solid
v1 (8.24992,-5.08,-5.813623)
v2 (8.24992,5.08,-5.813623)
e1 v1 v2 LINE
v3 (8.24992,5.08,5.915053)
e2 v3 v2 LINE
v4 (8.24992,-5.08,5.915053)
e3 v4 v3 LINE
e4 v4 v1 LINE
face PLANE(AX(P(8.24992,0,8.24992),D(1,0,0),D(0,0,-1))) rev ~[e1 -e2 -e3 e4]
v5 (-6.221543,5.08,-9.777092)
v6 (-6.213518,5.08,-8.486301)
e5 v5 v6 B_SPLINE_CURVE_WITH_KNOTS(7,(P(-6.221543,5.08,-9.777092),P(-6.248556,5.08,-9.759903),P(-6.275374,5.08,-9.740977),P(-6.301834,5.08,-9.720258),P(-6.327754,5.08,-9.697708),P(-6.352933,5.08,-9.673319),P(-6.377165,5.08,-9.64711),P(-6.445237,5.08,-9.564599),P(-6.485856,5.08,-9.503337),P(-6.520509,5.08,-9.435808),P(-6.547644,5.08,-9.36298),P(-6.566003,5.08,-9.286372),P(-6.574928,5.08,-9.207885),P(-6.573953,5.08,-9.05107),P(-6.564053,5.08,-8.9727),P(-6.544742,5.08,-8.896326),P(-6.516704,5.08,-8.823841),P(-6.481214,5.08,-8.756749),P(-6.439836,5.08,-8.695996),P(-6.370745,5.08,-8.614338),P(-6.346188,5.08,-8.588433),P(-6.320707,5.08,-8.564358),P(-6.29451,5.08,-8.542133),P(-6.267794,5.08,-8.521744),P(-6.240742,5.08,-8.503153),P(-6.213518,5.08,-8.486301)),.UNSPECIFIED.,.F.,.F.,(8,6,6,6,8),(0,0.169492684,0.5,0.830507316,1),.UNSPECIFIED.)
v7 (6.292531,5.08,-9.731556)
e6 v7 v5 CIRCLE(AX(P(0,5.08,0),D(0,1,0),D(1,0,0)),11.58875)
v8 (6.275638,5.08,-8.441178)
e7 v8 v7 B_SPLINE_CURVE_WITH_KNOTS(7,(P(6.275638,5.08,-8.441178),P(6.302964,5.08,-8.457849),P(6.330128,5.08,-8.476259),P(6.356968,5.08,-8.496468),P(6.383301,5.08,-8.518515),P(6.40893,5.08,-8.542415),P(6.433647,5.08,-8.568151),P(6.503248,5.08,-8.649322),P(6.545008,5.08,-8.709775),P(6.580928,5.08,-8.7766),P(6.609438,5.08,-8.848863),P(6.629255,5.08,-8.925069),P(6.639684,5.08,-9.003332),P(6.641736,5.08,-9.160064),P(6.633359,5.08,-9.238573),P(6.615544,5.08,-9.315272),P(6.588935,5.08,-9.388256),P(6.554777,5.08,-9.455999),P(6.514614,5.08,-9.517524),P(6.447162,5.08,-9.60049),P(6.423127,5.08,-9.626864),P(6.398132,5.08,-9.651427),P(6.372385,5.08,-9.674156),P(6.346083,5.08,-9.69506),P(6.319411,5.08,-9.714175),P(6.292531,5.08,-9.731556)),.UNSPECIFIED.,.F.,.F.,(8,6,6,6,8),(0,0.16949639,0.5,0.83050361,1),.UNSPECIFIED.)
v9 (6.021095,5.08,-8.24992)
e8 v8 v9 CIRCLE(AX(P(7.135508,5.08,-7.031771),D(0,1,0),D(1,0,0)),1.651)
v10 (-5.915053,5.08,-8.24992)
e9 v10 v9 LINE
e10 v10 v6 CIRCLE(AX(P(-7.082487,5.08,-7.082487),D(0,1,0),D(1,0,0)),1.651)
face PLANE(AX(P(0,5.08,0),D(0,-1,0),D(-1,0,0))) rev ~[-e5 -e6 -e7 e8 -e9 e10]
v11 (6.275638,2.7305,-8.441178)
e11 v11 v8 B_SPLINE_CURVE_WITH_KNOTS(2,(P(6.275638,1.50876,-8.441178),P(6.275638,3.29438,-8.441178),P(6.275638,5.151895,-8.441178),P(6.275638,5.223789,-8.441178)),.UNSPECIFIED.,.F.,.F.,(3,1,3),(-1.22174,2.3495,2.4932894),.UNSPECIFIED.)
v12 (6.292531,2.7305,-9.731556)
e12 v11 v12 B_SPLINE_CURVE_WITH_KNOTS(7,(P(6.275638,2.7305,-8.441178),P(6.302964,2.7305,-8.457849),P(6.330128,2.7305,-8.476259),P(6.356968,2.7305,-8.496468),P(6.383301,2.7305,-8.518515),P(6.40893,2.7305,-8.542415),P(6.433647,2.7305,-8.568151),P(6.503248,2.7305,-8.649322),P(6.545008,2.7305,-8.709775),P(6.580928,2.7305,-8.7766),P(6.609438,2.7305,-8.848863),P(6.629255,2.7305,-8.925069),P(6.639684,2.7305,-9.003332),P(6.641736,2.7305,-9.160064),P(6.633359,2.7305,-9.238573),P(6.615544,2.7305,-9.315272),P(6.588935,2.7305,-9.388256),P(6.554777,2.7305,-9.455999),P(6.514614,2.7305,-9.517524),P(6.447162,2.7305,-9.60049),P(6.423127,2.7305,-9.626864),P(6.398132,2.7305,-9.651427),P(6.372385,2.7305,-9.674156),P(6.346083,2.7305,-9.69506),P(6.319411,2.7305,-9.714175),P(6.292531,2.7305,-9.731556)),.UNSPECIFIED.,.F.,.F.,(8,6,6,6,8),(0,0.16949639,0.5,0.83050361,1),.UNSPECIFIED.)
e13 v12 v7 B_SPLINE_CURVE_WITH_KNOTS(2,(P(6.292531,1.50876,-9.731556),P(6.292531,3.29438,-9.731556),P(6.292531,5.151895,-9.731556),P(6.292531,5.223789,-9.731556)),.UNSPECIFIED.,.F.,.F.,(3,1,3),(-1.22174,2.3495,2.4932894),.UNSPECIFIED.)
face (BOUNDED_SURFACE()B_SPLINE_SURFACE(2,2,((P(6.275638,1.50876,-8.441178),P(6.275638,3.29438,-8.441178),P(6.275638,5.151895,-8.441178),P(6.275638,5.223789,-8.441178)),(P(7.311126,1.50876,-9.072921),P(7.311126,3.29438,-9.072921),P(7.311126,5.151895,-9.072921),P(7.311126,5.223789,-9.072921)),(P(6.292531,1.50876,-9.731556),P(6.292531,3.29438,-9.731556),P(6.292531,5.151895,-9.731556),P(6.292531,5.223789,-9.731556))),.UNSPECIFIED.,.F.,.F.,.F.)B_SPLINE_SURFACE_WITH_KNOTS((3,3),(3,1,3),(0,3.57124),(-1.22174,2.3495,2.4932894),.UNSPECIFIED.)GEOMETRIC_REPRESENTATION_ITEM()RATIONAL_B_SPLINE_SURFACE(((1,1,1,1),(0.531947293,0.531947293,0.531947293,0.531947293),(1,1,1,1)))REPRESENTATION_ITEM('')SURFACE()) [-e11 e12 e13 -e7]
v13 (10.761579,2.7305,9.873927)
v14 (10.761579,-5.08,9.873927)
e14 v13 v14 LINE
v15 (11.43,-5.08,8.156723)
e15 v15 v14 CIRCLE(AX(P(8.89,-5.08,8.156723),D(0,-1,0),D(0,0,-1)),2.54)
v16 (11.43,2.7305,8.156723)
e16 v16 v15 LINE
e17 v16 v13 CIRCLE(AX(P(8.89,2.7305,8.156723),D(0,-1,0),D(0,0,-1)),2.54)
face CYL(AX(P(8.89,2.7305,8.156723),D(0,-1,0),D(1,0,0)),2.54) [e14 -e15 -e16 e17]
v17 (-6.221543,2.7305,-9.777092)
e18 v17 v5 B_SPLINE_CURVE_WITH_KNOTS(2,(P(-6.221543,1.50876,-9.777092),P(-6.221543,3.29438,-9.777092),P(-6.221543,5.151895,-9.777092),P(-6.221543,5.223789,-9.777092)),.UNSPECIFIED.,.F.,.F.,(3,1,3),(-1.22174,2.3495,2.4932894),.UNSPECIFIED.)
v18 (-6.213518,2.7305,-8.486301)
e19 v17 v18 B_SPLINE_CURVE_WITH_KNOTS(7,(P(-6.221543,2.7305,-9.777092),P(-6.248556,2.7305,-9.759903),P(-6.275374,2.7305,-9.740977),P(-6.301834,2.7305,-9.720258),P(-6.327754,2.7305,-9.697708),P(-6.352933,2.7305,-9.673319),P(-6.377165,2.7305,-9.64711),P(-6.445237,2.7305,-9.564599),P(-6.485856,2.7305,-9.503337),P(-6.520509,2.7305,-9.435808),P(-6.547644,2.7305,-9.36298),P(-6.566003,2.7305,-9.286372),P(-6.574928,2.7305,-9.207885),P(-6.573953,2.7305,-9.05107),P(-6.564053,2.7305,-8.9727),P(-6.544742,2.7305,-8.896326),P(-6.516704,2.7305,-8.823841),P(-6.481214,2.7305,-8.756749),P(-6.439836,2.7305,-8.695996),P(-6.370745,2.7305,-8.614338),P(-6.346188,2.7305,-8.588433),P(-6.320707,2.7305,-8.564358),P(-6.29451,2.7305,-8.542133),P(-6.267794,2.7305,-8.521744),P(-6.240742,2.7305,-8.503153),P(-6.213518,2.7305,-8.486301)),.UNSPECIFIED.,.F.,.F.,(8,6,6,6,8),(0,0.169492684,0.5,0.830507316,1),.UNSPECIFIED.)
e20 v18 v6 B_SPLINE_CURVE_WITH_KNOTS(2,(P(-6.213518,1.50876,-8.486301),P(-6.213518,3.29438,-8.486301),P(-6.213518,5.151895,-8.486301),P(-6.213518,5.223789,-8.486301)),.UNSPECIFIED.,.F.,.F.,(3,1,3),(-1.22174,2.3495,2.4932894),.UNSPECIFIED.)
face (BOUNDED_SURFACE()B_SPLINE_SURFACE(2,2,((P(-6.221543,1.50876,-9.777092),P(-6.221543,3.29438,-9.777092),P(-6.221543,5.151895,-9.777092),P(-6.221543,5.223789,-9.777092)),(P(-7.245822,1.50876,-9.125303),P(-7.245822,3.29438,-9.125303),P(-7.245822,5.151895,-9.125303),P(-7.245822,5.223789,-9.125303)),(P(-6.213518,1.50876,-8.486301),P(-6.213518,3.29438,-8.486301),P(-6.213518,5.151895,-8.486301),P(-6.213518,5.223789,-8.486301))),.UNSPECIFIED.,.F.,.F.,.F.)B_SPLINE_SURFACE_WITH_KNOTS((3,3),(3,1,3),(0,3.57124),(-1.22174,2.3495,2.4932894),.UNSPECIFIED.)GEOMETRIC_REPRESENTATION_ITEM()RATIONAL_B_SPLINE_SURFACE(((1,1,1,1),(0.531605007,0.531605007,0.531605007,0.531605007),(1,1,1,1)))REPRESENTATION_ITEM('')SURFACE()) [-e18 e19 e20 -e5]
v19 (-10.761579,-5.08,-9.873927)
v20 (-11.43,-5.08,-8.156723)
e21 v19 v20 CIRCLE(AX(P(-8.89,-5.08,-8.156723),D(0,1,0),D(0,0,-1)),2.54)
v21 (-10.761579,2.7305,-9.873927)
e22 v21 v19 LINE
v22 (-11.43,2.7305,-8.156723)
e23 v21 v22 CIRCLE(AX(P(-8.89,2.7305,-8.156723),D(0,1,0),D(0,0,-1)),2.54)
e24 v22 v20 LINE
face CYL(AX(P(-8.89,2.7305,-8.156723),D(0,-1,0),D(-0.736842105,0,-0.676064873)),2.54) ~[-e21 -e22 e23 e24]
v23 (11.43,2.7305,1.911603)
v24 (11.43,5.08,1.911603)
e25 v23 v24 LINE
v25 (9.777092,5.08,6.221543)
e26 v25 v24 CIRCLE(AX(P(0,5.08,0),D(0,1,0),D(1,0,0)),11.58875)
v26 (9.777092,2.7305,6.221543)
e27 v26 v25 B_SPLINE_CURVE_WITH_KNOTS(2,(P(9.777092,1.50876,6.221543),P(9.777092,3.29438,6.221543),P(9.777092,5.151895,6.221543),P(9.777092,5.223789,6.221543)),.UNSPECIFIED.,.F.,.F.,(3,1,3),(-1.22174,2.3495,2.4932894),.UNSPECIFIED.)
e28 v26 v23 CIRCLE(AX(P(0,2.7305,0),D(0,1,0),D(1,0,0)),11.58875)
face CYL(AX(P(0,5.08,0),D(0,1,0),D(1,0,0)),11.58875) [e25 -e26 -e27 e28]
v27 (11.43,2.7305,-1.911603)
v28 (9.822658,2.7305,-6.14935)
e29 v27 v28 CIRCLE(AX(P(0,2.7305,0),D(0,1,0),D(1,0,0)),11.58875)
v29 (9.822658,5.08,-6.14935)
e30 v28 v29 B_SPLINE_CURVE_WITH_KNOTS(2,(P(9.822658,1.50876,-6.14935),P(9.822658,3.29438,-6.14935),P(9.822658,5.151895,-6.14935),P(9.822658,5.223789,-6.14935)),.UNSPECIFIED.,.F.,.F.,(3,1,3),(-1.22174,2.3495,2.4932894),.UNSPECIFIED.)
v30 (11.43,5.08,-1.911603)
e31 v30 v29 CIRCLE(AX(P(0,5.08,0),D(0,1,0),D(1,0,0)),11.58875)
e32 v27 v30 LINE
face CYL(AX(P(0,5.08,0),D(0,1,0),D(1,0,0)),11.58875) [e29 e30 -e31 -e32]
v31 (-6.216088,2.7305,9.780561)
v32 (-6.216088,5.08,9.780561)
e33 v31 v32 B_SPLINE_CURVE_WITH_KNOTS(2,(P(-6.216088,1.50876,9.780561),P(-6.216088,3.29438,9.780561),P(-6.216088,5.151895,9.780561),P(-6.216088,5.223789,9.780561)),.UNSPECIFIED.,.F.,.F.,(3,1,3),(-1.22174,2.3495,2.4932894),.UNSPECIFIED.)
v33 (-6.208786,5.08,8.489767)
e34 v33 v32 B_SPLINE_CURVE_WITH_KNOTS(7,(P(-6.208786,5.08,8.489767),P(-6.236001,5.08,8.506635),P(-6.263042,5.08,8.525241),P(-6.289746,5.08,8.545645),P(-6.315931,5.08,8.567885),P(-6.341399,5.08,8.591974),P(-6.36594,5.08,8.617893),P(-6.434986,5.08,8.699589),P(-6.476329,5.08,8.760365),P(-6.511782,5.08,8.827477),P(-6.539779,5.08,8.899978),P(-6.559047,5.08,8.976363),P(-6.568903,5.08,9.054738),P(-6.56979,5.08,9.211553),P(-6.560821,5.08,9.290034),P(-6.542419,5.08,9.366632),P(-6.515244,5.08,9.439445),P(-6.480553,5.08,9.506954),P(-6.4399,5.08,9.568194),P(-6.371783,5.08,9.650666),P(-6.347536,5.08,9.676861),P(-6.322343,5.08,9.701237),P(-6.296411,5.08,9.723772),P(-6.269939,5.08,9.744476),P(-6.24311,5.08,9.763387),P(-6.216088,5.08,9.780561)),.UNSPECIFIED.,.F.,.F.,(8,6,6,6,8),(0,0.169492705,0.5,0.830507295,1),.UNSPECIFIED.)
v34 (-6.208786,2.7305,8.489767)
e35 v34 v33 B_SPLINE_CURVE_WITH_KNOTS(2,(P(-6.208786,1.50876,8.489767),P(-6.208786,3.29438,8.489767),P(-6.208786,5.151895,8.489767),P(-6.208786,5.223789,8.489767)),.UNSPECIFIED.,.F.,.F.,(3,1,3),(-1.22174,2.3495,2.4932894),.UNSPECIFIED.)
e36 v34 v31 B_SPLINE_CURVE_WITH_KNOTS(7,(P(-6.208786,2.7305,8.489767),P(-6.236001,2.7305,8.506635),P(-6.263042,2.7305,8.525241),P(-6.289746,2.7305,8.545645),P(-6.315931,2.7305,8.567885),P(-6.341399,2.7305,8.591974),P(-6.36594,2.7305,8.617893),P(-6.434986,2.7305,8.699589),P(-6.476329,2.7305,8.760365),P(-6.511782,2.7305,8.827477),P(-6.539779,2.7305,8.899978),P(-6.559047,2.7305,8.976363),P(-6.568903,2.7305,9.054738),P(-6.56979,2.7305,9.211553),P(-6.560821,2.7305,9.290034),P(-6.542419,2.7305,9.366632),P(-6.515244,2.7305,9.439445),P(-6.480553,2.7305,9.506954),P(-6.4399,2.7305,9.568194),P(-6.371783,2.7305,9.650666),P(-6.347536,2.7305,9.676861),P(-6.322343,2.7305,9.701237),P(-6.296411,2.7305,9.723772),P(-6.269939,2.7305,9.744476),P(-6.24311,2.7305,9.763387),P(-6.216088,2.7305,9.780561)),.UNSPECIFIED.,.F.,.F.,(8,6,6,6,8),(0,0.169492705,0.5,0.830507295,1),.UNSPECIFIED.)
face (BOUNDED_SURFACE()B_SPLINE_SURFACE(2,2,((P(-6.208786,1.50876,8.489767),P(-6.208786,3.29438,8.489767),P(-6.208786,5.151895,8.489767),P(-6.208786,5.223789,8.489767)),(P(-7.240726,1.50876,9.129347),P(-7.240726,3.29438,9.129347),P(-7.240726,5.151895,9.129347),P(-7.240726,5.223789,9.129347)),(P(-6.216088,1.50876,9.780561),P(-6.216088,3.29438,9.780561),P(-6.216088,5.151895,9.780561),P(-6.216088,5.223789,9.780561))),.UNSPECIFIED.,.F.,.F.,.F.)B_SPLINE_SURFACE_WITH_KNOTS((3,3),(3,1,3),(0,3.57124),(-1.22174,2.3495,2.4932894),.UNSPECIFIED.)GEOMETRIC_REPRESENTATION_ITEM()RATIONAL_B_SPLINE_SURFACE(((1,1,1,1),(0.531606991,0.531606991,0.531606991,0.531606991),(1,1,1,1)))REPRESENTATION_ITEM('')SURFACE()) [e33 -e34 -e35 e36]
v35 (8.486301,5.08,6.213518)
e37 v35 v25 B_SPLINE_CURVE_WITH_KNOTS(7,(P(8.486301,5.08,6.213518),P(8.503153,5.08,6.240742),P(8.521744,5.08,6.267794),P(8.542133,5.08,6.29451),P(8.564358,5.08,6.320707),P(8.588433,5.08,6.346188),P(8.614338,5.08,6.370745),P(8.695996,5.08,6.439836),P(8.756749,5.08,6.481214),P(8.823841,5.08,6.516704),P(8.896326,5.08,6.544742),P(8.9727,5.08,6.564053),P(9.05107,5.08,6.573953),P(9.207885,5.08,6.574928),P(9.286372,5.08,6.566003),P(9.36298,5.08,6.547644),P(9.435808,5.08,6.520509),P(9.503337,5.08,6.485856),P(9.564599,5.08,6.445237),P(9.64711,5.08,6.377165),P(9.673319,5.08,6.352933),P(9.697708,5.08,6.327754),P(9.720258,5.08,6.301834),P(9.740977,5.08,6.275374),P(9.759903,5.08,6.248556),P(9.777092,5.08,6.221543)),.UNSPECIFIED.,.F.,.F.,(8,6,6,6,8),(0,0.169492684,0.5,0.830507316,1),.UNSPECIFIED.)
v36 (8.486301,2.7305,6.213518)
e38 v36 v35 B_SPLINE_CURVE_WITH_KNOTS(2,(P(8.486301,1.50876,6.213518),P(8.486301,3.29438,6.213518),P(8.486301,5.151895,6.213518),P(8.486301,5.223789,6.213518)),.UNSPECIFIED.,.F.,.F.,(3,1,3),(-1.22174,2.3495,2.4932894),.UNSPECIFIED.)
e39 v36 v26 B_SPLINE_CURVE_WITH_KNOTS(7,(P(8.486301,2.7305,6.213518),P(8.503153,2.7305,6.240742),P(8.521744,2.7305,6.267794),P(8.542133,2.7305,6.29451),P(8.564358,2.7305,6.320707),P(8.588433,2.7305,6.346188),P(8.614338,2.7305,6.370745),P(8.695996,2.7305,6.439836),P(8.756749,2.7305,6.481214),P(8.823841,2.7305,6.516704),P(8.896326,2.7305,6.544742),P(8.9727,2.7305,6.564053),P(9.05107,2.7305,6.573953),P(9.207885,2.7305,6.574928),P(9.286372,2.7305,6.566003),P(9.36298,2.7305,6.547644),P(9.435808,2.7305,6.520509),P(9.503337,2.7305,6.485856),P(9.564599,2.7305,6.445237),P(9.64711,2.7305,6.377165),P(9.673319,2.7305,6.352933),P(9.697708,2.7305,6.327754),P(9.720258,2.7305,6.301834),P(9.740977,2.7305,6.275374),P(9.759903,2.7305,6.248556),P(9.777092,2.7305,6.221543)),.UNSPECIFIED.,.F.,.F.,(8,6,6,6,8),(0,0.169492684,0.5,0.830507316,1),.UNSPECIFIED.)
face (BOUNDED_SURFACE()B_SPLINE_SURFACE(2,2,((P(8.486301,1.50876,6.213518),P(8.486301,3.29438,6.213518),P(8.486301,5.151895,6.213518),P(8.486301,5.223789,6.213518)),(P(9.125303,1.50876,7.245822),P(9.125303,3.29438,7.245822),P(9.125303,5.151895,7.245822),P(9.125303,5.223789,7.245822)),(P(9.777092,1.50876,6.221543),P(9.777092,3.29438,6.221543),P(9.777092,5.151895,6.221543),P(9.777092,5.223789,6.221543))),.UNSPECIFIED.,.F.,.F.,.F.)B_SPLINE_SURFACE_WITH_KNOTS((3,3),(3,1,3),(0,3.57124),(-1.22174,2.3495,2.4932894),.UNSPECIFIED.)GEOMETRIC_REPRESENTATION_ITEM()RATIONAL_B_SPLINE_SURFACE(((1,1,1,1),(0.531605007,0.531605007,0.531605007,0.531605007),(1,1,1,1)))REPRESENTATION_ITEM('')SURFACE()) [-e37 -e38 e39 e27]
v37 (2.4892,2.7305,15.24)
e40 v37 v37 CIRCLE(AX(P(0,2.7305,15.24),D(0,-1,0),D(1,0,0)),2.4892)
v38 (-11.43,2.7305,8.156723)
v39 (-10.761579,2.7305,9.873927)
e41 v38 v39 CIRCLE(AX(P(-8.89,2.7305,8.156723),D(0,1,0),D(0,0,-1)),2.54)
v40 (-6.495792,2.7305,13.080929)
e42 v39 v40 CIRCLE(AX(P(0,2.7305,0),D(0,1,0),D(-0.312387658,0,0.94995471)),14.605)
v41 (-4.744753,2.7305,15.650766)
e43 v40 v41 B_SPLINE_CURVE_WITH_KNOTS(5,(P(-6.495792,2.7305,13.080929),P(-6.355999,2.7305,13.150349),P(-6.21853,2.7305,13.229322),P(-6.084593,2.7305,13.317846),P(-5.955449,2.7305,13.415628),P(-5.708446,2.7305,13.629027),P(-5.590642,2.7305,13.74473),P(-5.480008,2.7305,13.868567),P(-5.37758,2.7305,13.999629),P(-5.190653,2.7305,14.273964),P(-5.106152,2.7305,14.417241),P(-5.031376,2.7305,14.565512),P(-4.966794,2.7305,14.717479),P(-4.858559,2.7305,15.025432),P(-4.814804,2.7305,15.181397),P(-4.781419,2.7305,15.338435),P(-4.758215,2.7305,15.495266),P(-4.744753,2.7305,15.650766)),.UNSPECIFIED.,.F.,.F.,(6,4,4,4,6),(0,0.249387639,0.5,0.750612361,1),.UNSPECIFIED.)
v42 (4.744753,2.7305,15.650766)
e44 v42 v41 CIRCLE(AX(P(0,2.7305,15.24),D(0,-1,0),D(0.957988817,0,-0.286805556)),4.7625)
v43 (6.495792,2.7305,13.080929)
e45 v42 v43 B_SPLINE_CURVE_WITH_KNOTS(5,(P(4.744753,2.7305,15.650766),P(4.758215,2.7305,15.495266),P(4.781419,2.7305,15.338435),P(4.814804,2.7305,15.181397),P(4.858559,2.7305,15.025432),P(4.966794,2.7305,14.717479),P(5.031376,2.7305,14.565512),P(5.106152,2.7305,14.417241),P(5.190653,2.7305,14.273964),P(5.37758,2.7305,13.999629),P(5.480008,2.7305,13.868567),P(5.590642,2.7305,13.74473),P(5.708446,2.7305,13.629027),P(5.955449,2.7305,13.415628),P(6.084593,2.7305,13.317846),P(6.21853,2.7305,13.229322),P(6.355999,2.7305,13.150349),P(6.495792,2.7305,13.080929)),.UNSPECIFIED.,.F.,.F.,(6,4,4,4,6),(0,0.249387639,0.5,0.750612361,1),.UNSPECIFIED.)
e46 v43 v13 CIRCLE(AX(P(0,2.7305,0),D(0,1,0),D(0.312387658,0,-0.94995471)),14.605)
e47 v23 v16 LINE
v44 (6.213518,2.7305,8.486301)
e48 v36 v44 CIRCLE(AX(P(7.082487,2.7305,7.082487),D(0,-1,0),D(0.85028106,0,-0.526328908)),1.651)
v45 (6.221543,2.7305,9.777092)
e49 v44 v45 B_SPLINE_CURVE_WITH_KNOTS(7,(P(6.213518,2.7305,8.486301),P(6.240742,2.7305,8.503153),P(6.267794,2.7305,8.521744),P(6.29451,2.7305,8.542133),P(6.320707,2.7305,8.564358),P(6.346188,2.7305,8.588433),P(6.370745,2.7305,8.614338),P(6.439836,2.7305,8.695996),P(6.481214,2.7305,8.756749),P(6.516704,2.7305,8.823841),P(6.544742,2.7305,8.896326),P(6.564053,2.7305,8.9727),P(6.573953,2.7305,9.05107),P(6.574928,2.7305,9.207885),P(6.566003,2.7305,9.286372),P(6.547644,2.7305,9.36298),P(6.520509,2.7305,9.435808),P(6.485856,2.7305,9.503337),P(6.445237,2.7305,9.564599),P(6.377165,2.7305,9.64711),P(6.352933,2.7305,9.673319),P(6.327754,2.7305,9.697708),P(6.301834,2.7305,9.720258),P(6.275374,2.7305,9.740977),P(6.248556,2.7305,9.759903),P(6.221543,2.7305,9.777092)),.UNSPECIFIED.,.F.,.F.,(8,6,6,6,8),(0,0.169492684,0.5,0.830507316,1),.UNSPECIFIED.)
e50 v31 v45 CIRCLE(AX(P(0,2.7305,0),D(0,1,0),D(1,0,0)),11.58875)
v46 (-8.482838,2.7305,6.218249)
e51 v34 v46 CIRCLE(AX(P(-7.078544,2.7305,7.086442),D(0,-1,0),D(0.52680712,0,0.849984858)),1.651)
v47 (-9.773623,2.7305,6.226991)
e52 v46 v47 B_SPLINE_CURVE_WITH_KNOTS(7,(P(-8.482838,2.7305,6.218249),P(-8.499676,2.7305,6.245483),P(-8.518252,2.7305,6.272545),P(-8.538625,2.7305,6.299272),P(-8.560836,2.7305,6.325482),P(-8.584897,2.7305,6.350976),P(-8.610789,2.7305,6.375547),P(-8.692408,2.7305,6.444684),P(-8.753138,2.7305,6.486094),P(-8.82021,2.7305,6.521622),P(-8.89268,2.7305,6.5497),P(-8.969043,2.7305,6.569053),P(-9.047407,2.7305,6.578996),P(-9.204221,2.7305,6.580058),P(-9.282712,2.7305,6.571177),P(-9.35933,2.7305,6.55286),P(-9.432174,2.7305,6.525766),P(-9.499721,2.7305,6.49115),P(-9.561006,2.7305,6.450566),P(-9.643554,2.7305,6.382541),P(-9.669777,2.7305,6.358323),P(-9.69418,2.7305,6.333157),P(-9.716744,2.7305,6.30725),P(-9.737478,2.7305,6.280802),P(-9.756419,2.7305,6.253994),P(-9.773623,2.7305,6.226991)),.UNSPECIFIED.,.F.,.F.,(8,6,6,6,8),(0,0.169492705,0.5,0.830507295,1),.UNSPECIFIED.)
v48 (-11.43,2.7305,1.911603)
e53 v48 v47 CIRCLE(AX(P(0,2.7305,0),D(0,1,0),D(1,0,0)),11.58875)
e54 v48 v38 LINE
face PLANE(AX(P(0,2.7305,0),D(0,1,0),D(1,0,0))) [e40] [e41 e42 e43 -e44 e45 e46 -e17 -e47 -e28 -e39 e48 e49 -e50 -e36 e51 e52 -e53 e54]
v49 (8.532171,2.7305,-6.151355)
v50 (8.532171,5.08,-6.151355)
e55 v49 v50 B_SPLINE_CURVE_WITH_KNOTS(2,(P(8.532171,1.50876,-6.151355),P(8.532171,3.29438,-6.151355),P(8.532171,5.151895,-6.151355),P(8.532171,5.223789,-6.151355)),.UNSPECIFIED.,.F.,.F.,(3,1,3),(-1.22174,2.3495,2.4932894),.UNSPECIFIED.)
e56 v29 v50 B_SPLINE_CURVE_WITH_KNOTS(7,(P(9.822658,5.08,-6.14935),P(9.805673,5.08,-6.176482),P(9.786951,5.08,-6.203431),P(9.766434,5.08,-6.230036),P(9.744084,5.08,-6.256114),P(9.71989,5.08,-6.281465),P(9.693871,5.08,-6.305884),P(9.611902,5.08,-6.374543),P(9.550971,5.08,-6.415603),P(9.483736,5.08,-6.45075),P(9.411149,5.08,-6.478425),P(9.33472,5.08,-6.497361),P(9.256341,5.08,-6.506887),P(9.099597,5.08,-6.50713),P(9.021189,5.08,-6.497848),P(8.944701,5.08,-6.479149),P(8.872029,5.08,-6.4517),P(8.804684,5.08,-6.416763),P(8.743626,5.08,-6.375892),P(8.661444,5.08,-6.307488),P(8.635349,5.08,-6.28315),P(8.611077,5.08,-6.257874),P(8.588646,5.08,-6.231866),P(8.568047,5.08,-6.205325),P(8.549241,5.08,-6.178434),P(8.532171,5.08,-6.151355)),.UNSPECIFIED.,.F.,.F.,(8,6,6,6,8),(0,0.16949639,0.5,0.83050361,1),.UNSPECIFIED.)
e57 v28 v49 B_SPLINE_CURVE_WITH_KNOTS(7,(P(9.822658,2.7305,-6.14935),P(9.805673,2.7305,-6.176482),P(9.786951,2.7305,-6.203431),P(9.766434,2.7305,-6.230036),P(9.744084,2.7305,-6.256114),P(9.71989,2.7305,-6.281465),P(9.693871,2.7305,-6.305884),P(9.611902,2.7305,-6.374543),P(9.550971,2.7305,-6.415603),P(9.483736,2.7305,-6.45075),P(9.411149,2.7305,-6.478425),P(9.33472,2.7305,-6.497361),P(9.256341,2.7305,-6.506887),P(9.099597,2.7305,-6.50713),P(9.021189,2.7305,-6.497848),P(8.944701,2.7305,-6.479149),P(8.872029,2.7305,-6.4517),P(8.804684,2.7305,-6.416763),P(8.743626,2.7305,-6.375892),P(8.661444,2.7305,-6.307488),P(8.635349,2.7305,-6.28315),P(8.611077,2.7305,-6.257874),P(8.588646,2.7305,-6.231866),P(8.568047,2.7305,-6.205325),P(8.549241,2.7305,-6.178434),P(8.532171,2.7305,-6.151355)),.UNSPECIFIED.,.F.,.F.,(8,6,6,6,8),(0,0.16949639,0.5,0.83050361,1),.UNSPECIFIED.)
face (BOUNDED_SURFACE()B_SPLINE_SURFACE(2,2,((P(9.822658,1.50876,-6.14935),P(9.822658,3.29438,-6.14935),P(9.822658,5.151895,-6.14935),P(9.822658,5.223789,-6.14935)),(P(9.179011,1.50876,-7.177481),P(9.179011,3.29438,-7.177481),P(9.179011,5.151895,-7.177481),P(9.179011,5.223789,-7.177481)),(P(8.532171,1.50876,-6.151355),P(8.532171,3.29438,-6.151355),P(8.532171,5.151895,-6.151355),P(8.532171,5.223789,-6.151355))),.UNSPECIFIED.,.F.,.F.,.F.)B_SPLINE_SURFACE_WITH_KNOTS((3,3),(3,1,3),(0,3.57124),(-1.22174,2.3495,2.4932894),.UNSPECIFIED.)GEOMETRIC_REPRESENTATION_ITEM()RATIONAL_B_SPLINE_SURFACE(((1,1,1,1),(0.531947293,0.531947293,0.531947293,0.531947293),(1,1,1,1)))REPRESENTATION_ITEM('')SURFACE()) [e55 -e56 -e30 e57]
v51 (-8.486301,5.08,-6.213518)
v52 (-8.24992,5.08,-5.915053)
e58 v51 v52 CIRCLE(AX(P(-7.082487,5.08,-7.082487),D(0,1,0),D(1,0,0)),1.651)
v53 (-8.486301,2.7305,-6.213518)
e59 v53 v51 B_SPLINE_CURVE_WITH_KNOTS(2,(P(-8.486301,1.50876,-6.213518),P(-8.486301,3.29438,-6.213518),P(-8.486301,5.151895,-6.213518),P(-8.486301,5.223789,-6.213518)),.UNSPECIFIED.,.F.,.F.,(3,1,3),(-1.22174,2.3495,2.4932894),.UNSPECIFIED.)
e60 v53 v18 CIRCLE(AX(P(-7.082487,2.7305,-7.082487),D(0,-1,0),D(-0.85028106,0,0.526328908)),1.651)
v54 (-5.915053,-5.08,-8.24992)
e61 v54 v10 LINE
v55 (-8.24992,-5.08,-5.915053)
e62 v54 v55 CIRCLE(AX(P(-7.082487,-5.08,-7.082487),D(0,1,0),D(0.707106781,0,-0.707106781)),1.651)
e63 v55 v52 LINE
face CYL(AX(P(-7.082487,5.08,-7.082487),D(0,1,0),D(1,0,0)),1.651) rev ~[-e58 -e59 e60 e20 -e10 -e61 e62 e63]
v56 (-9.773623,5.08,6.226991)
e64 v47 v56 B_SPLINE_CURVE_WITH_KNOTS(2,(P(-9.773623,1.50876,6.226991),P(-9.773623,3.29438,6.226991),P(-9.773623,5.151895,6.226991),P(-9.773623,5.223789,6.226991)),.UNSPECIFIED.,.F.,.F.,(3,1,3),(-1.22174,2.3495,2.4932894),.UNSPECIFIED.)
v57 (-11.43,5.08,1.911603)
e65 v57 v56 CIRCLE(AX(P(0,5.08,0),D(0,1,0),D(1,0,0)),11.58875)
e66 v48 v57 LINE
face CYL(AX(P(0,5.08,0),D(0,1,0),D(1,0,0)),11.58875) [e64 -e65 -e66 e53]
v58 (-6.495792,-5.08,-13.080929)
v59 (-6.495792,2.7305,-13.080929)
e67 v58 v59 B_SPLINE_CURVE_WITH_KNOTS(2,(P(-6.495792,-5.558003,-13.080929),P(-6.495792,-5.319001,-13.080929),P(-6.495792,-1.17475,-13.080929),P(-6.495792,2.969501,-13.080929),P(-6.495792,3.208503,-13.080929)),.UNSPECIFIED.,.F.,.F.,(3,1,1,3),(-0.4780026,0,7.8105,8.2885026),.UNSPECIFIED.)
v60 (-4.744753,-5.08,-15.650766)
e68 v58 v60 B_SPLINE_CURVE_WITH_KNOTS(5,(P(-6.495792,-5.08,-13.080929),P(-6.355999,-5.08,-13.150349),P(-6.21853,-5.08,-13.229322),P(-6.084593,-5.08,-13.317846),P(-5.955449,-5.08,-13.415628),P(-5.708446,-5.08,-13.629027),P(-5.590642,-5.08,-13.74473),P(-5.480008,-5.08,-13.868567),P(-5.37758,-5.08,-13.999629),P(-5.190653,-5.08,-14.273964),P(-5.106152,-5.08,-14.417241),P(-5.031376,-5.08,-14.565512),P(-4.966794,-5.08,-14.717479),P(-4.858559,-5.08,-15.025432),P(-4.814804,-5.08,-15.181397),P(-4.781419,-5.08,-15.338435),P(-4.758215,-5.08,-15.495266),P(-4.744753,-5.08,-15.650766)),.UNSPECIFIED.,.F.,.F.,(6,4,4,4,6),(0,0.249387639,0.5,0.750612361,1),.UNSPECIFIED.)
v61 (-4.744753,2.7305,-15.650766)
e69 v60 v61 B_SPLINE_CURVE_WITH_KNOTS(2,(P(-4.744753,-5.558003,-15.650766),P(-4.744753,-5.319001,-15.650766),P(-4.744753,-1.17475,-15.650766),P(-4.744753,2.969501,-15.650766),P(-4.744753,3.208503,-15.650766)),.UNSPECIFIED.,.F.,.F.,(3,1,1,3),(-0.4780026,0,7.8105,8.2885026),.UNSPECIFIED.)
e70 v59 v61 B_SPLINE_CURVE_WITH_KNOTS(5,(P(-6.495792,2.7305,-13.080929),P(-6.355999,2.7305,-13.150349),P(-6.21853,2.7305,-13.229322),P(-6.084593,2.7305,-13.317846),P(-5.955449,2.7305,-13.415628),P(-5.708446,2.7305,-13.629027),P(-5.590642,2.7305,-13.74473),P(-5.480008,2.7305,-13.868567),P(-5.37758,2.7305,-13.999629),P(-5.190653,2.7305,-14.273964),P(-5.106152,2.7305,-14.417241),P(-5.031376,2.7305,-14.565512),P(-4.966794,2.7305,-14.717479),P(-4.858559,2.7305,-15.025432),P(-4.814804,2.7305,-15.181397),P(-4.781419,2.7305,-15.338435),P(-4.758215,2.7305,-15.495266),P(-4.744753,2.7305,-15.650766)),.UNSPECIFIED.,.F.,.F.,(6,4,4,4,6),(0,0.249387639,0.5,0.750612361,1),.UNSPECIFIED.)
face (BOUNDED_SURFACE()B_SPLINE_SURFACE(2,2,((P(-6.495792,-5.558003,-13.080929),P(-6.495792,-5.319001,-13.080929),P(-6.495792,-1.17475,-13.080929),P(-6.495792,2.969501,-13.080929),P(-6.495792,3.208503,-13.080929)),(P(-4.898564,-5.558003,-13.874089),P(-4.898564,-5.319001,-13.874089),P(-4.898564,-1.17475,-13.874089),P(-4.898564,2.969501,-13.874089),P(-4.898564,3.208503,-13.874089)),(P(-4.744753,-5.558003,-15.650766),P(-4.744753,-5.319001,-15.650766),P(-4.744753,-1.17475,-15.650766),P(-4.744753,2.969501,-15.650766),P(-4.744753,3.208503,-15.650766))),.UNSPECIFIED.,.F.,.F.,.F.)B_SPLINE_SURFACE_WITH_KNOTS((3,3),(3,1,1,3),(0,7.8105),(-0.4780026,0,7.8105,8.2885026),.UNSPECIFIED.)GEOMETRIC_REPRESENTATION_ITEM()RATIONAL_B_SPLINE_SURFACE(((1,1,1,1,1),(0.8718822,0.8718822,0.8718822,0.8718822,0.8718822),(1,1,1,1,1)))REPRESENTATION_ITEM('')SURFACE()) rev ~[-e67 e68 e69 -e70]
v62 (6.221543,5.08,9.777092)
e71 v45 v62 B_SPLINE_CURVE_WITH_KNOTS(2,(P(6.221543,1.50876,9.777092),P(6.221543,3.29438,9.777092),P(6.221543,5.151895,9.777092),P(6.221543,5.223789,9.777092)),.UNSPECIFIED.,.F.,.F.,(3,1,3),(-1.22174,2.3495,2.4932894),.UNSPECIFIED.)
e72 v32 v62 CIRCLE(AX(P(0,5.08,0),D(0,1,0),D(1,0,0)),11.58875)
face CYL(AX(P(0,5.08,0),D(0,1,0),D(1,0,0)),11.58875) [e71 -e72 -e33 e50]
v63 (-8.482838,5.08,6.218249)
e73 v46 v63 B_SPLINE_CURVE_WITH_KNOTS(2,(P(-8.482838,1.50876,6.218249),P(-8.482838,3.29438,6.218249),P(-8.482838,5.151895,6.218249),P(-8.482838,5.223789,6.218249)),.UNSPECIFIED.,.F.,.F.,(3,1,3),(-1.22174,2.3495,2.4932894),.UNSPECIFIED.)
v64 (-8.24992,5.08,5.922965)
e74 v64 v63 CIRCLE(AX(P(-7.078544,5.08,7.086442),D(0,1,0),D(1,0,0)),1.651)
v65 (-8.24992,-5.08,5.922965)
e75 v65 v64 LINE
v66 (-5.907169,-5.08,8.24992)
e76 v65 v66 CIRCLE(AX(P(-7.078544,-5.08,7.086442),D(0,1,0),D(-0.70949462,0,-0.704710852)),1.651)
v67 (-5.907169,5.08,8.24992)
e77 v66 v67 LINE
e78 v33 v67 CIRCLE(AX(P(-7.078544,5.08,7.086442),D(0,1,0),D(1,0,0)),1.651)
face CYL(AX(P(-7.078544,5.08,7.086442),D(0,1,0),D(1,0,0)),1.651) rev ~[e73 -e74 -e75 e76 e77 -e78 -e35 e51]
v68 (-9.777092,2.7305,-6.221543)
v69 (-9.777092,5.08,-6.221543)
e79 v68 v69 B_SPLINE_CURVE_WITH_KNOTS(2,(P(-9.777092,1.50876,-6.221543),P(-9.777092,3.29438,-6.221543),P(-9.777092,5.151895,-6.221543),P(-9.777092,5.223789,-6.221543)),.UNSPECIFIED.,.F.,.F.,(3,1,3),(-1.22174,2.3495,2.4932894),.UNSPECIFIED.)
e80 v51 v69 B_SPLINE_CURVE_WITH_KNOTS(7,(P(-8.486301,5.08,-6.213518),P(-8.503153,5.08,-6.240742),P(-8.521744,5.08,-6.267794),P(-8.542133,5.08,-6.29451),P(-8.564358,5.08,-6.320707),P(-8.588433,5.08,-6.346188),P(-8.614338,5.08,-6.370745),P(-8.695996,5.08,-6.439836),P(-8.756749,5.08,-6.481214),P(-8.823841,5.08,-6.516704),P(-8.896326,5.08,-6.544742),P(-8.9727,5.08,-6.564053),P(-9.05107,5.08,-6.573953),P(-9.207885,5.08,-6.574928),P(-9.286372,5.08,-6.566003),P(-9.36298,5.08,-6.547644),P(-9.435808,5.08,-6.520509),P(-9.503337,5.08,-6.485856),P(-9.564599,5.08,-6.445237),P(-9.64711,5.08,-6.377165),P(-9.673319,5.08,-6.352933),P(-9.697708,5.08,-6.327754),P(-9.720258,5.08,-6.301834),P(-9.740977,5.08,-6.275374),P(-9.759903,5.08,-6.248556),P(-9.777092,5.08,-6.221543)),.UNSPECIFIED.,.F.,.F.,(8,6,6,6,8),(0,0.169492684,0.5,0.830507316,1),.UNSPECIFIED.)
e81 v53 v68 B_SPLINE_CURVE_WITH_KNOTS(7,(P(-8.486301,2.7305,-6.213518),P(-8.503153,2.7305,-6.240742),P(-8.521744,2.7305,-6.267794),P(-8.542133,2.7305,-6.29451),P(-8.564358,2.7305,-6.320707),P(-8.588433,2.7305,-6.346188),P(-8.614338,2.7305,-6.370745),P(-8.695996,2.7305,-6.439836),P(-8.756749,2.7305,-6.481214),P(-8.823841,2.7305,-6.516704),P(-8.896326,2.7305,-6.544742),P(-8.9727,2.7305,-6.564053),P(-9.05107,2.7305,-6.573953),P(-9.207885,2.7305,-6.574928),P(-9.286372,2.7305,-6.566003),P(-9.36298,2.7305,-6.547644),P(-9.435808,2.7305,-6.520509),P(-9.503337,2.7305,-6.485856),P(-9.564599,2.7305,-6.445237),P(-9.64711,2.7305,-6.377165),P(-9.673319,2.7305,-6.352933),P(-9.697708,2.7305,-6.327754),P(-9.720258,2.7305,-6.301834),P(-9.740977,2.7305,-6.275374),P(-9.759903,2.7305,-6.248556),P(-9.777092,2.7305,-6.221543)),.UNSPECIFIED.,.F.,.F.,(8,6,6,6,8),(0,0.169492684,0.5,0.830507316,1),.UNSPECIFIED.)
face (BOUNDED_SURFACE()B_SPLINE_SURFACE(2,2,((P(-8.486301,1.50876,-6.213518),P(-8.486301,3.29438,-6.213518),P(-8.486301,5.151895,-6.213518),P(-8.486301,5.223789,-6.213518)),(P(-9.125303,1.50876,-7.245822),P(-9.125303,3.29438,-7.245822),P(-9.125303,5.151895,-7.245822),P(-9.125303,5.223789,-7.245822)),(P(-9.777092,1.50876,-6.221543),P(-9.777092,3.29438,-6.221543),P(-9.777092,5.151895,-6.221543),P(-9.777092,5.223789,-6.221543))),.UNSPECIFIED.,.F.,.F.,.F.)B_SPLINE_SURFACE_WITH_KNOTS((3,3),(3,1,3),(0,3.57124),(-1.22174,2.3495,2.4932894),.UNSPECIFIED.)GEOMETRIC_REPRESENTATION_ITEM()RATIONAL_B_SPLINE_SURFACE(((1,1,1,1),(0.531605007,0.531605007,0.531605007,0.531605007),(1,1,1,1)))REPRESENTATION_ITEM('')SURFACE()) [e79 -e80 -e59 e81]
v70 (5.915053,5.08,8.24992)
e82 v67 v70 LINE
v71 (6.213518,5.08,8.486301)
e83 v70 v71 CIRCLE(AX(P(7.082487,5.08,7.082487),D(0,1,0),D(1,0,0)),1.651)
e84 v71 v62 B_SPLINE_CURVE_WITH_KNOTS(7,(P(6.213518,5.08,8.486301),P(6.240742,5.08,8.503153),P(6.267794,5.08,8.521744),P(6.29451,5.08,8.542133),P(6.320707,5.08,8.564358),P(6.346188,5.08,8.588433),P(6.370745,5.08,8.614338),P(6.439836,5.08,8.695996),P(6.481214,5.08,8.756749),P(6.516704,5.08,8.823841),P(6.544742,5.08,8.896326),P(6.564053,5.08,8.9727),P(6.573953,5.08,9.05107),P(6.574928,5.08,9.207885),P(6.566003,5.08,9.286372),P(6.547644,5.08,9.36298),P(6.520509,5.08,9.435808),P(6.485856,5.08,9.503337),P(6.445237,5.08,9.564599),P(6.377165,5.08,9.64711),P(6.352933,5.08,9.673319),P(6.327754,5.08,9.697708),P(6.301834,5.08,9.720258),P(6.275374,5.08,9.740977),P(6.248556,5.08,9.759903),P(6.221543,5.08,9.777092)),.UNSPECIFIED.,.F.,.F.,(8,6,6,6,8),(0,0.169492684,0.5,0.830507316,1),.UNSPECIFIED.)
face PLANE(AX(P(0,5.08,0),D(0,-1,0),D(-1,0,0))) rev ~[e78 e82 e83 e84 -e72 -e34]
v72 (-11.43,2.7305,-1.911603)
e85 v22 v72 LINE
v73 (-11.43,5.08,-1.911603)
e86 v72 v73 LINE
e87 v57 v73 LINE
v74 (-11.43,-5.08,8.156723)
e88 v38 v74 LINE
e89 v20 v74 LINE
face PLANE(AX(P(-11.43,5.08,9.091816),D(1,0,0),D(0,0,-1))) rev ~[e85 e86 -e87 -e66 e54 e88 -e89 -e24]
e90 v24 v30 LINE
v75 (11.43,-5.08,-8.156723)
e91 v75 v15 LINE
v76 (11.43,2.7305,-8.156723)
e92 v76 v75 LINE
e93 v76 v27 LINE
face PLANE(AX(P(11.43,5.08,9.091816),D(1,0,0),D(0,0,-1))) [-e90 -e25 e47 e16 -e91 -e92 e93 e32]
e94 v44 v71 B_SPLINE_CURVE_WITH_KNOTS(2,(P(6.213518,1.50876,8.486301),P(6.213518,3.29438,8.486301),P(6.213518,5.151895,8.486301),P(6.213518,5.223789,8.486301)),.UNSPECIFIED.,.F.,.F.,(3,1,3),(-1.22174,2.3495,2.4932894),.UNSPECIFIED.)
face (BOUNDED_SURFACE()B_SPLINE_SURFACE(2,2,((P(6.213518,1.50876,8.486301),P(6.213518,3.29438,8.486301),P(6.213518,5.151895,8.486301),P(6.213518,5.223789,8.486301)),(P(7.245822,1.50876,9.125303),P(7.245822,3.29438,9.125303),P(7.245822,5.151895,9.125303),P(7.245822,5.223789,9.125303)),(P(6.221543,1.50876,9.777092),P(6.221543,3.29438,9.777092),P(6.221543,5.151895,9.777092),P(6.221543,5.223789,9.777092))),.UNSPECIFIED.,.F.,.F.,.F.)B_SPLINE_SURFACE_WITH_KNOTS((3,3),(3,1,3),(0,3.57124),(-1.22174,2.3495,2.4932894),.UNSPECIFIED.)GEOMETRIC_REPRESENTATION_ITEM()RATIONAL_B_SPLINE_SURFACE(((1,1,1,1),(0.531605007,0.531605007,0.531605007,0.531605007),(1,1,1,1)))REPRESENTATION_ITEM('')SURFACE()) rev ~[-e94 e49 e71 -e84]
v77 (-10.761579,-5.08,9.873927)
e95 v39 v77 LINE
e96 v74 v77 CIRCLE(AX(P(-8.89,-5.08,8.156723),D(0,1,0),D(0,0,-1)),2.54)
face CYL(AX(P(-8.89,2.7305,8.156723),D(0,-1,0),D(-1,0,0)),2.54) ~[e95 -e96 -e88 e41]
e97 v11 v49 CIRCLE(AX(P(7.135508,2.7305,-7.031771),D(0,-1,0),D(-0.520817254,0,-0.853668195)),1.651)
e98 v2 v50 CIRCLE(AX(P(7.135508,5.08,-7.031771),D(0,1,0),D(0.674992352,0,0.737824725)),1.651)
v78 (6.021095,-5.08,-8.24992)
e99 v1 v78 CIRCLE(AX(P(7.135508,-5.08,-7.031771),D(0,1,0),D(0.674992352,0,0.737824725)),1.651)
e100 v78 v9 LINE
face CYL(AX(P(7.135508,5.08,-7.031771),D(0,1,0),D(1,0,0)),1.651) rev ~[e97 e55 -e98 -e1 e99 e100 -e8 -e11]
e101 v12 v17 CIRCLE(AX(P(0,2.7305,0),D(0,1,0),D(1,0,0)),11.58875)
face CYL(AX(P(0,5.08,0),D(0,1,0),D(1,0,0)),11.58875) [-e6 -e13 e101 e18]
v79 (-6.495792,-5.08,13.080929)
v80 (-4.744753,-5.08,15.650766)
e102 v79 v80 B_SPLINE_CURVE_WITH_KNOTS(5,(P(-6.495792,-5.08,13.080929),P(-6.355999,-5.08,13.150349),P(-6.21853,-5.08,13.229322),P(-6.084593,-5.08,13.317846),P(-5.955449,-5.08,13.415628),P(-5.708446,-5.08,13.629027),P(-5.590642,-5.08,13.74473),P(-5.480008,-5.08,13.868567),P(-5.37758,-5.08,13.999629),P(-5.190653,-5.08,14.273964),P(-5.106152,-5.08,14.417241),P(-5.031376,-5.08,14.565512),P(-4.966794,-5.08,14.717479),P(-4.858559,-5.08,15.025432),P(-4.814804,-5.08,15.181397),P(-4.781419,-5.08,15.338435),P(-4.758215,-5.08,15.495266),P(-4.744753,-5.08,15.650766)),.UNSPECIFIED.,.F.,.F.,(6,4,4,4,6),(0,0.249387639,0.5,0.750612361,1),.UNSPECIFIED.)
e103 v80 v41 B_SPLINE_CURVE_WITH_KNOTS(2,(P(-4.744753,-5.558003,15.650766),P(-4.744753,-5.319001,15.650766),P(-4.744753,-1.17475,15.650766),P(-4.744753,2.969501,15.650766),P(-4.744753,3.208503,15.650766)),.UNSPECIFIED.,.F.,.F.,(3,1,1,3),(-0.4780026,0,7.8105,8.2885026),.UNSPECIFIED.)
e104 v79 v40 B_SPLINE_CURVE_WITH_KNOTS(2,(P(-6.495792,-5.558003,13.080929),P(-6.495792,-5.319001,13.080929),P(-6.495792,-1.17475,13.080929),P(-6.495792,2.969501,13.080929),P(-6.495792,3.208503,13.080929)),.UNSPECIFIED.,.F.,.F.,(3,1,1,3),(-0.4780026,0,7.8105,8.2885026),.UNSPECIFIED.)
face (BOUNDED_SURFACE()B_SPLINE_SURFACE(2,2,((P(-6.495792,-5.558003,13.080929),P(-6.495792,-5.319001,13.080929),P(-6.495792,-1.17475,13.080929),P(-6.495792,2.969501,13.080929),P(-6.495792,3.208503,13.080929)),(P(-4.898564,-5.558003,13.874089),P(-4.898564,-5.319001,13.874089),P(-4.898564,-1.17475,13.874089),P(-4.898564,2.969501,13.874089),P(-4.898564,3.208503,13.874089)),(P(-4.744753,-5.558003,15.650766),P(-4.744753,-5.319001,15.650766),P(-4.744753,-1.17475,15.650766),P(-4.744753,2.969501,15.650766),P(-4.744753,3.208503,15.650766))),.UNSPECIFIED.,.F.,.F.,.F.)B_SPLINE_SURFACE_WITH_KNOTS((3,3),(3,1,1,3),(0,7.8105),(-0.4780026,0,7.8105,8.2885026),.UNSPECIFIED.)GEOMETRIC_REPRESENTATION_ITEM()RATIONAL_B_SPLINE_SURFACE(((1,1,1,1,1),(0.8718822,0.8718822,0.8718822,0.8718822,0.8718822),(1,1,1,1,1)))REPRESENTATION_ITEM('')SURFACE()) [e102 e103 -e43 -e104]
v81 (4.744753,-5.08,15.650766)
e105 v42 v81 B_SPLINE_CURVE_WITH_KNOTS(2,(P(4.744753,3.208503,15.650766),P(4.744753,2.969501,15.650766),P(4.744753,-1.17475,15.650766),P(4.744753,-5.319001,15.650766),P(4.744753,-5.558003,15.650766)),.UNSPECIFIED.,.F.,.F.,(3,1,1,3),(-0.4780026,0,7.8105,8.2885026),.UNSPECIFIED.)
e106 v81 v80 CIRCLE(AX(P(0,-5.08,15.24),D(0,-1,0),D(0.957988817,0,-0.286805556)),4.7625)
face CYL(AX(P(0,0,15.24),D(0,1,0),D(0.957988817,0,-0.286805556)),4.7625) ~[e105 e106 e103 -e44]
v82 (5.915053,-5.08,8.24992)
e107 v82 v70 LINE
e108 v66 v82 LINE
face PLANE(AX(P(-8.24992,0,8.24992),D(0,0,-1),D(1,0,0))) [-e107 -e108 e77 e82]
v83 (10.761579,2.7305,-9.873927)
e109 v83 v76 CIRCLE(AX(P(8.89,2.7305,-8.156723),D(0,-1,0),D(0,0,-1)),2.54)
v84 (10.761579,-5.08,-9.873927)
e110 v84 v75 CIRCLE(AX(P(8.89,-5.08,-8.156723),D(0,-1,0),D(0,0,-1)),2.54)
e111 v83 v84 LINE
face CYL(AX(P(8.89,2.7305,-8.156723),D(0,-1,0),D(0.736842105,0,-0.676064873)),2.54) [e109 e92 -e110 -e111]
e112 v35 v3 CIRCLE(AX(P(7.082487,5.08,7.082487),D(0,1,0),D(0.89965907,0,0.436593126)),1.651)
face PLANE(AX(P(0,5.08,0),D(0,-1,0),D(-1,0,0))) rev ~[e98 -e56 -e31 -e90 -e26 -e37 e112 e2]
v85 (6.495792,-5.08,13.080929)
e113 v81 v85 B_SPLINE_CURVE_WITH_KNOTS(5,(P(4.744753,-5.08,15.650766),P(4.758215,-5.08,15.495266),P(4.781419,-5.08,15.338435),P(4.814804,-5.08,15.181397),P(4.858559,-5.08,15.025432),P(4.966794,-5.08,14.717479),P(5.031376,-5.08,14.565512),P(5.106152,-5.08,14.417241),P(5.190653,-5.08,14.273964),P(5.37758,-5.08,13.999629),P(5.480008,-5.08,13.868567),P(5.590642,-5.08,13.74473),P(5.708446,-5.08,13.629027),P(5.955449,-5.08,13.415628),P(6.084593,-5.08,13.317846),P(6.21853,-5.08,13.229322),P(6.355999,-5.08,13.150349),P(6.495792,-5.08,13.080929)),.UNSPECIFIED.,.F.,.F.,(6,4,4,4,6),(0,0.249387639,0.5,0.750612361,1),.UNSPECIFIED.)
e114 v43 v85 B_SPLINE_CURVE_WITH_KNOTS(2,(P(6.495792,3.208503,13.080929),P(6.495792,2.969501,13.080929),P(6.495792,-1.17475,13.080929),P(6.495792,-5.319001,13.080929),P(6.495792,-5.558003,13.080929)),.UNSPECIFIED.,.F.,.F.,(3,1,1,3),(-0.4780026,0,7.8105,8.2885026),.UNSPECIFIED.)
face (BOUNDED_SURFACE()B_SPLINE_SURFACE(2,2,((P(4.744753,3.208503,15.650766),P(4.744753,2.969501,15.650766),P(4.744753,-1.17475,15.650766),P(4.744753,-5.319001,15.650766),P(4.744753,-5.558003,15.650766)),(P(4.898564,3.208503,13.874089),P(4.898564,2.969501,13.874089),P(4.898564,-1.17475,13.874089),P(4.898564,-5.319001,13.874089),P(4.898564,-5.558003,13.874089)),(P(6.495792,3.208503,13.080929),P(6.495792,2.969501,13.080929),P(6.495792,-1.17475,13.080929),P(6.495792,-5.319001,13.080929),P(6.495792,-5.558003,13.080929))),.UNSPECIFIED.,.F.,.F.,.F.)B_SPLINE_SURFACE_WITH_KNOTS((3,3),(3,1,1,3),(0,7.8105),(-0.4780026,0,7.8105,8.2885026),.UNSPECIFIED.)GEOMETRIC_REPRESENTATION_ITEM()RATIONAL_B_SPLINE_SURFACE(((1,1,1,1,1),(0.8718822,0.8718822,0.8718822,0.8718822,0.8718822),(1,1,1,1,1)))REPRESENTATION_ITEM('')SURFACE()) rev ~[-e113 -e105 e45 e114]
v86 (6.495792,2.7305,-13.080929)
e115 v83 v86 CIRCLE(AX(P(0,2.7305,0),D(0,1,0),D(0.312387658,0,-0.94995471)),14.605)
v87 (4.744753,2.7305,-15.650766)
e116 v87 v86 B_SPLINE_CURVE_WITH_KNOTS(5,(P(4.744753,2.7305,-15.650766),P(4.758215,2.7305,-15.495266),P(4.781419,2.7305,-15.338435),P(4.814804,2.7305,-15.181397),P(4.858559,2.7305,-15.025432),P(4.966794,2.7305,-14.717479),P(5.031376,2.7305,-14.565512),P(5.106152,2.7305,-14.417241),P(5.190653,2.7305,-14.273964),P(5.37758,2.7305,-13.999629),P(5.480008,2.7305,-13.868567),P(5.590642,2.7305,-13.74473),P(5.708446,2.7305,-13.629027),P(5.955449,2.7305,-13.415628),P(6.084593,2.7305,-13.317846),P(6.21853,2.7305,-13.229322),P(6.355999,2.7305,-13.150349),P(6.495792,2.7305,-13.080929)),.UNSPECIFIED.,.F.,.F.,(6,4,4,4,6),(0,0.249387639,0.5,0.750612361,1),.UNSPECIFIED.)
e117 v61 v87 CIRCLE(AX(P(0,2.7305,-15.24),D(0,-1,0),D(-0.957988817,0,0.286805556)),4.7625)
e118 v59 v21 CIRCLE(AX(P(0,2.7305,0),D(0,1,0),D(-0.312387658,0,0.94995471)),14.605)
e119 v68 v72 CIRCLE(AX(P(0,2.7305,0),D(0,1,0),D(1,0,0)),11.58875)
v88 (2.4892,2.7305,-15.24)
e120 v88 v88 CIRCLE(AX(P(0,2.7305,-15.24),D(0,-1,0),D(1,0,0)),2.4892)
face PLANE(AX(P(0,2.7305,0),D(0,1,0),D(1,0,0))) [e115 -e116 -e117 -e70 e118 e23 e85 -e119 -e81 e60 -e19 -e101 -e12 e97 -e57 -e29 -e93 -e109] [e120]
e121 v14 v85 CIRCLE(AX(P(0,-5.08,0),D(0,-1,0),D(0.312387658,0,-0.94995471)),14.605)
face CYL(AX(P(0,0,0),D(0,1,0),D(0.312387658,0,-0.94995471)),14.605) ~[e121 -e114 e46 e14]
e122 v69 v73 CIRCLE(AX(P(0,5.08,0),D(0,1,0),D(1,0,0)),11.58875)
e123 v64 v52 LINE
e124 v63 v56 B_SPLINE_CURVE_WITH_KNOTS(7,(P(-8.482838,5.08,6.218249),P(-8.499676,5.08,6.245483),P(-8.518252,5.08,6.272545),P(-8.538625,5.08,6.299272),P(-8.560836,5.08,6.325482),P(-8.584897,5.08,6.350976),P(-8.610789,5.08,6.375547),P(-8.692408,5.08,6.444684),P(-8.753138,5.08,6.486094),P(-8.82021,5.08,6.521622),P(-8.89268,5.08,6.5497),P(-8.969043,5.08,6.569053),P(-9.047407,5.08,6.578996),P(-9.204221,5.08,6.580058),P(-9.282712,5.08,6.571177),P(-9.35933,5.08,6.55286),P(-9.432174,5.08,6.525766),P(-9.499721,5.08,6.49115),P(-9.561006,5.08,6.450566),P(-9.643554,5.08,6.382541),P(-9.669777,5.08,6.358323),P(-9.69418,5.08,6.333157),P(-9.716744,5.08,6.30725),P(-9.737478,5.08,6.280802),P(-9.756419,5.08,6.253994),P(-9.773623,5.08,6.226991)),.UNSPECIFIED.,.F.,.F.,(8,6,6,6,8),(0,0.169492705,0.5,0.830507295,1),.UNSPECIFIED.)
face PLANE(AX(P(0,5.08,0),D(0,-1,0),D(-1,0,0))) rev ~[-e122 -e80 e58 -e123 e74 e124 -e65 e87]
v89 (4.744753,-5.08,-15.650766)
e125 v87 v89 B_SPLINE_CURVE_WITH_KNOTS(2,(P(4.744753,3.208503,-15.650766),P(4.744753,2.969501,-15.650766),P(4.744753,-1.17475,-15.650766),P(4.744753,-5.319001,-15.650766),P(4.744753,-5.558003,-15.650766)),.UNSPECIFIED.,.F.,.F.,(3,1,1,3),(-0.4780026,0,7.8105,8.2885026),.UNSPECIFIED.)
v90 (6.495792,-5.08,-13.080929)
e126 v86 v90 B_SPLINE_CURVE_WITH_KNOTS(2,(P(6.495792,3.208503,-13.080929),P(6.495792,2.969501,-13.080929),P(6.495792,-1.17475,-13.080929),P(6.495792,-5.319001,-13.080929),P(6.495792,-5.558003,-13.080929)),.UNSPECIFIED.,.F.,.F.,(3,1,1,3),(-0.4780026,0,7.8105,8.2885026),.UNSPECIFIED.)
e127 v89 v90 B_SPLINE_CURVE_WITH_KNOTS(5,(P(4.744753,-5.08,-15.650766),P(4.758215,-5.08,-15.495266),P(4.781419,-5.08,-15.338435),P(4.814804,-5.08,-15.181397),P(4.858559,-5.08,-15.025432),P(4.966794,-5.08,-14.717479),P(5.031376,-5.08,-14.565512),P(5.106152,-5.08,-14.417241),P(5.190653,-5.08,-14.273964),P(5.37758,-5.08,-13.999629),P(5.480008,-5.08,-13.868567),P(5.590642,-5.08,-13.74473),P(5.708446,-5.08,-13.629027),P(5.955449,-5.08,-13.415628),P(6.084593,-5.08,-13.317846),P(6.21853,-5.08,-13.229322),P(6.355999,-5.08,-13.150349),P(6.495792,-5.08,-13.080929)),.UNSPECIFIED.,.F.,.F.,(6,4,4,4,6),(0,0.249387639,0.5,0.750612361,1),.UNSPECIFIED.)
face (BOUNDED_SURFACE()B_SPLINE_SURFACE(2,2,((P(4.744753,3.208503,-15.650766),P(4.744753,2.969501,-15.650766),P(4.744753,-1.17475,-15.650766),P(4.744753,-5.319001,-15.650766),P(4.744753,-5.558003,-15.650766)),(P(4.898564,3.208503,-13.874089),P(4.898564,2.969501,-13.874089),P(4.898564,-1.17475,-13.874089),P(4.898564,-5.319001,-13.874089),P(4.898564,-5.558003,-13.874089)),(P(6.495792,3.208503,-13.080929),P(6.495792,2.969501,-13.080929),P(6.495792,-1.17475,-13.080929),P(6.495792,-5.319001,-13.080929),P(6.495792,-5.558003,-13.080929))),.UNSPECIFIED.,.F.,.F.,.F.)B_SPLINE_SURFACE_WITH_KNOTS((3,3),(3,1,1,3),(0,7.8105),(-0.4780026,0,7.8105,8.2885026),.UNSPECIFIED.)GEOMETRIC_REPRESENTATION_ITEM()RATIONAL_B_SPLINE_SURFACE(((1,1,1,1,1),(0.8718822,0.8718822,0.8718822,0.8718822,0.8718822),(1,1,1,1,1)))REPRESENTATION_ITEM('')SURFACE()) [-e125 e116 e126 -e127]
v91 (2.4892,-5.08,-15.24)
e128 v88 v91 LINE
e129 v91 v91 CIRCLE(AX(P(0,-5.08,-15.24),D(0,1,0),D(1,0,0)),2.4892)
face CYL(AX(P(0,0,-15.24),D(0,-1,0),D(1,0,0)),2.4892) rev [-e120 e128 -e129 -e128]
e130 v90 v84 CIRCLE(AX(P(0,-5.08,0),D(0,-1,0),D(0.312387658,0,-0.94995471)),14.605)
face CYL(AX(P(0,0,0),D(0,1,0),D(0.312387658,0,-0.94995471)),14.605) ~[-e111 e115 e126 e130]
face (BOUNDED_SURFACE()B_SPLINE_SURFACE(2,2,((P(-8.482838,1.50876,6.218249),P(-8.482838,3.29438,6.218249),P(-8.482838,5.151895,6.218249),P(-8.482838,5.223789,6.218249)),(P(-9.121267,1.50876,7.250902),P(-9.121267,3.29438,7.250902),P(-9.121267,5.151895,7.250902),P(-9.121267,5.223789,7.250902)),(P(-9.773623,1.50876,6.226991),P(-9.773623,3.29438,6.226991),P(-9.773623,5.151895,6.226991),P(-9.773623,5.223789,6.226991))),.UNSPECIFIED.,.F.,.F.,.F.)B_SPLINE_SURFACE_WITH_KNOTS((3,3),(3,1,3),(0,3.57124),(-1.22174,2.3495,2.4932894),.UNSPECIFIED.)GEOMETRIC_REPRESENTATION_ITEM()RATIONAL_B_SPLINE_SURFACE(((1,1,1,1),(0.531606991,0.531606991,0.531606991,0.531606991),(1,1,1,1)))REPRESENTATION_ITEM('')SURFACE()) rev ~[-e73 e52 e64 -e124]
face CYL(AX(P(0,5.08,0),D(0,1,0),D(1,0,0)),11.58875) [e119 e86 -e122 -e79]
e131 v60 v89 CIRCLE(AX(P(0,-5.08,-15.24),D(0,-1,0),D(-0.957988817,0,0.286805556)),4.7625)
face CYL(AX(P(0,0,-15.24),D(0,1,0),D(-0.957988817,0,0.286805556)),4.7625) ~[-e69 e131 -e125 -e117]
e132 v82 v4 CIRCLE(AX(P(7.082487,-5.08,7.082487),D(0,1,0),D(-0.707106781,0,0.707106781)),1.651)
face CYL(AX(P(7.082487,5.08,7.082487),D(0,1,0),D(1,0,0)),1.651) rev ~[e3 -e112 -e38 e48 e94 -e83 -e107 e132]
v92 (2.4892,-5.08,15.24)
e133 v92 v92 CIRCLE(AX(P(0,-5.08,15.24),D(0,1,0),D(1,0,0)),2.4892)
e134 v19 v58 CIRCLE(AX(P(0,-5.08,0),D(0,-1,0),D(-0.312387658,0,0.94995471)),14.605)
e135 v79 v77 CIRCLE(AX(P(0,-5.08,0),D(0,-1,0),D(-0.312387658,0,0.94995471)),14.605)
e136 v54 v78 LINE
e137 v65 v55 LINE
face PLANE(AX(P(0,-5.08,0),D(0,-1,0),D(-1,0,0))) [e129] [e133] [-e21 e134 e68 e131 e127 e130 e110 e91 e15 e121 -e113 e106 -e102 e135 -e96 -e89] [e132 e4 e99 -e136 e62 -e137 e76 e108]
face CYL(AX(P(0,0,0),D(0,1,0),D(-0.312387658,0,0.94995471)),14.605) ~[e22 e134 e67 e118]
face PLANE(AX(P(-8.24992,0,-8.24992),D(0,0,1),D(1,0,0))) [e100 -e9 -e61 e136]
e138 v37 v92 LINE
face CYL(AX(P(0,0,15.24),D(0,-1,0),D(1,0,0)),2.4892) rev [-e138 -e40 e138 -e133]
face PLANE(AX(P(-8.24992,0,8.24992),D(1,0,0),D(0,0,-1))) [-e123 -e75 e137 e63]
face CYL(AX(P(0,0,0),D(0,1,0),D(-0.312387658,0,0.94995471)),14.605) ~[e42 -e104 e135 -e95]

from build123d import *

# Parameters (mm, degrees)
SKETCH1_R           = 2.4892
SKETCH1_W           = 16.49984
SKETCH1_H           = 16.49984
BOSS_EXTRUDE1_DEPTH = 5.08
CUT_EXTRUDE1_DEPTH  = 11.16
SKETCH4_R           = 20.0025
SKETCH4_R_2         = 11.58875
CUT_EXTRUDE2_DEPTH  = 2.3495
SKETCH6_R           = 1.651
CUT_EXTRUDE3_DEPTH  = 11.16
FILLET1_R           = 0.762
FILLET2_R           = 3.175
FILLET3_R           = 2.54


with BuildPart() as part:
    # Sketch1 → Boss-Extrude1 (new body, symmetric)
    with BuildSketch(Plane(origin=(0, 0, 0), x_dir=(1, 0, 0), z_dir=(0, 1, 0))):
        with BuildLine():
            ThreePointArc((-4.56242174, 13.874088542), (0, 20.0025), (4.56242174, 13.874088542))
            ThreePointArc((4.56242174, 13.874088542), (14.605, 0), (4.56242174, -13.874088542))
            ThreePointArc((4.56242174, -13.874088542), (0, -20.0025), (-4.56242174, -13.874088542))
            ThreePointArc((-4.56242174, -13.874088542), (-14.605, 0), (-4.56242174, 13.874088542))
        make_face()
        with Locations((0, 15.24)):
            Circle(SKETCH1_R, mode=Mode.SUBTRACT)
        with Locations((0, -15.24)):
            Circle(SKETCH1_R, mode=Mode.SUBTRACT)
        Rectangle(SKETCH1_W, SKETCH1_H, mode=Mode.SUBTRACT)
    extrude(amount=BOSS_EXTRUDE1_DEPTH, both=True)

    # Sketch2 → Cut-Extrude1 (cut, through all)
    with BuildSketch(Plane(origin=(0, 5.08, 0), x_dir=(1, 0, 0), z_dir=(0, 1, 0))):
        with BuildLine():
            Line((-11.43, -9.091816375), (-11.43, 9.091816375))
            ThreePointArc((-11.43, 9.091816375), (-14.605, 0), (-11.43, -9.091816375))
        make_face()
        with BuildLine():
            Line((11.43, -9.091816375), (11.43, 9.091816375))
            ThreePointArc((11.43, 9.091816375), (14.605, 0), (11.43, -9.091816375))
        make_face()
    extrude(amount=-CUT_EXTRUDE1_DEPTH, mode=Mode.SUBTRACT)

    # Sketch4 → Cut-Extrude2 (cut)
    with BuildSketch(Plane(origin=(0, 5.08, 0), x_dir=(1, 0, 0), z_dir=(0, 1, 0))):
        Circle(SKETCH4_R)
        Circle(SKETCH4_R_2, mode=Mode.SUBTRACT)
    extrude(amount=-CUT_EXTRUDE2_DEPTH, mode=Mode.SUBTRACT)

    # Sketch6 → Cut-Extrude3 (cut, through all)
    with BuildSketch(Plane(origin=(0, 5.08, 0), x_dir=(1, 0, 0), z_dir=(0, 1, 0))):
        with Locations((-7.082486704, 7.082486704)):
            Circle(SKETCH6_R)
        with Locations((7.135507627, 7.031771379)):
            Circle(SKETCH6_R)
        with Locations((7.082486704, -7.082486704)):
            Circle(SKETCH6_R)
        with Locations((-7.078544383, -7.086442383)):
            Circle(SKETCH6_R)
    extrude(amount=-CUT_EXTRUDE3_DEPTH, mode=Mode.SUBTRACT)

    # Fillet1
    fillet1_edges = [part.edges().sort_by_distance(p)[0] for p in [
        (-8.567823829, 3.90525, -7.803301954),
        (7.861200497, 3.90525, -8.514731547),
        (7.803301954, 3.90525, 8.567823829),
        (-7.798496392, 3.90525, 8.572198119),
        (-8.563496345, 3.90525, 7.808050776),
        (8.567823829, 3.90525, 7.803301954),
        (8.628935612, 3.90525, -7.735670415),
        (-7.803301954, 3.90525, -8.567823829),
    ]]
    fillet(fillet1_edges, radius=FILLET1_R)

    # Fillet2
    fillet2_edges = [part.edges().sort_by_distance(p)[0] for p in [
        (-4.56242174, -1.17475, -13.874088542),
        (4.56242174, -1.17475, -13.874088542),
        (4.56242174, -1.17475, 13.874088542),
        (-4.56242174, -1.17475, 13.874088542),
    ]]
    fillet(fillet2_edges, radius=FILLET2_R)

    # Fillet3
    fillet3_edges = [part.edges().sort_by_distance(p)[0] for p in [
        (-11.43, -1.17475, 9.091816375),
        (-11.43, -1.17475, -9.091816375),
        (11.43, -1.17475, -9.091816375),
        (11.43, -1.17475, 9.091816375),
    ]]
    fillet(fillet3_edges, radius=FILLET3_R)


solid = part.part
